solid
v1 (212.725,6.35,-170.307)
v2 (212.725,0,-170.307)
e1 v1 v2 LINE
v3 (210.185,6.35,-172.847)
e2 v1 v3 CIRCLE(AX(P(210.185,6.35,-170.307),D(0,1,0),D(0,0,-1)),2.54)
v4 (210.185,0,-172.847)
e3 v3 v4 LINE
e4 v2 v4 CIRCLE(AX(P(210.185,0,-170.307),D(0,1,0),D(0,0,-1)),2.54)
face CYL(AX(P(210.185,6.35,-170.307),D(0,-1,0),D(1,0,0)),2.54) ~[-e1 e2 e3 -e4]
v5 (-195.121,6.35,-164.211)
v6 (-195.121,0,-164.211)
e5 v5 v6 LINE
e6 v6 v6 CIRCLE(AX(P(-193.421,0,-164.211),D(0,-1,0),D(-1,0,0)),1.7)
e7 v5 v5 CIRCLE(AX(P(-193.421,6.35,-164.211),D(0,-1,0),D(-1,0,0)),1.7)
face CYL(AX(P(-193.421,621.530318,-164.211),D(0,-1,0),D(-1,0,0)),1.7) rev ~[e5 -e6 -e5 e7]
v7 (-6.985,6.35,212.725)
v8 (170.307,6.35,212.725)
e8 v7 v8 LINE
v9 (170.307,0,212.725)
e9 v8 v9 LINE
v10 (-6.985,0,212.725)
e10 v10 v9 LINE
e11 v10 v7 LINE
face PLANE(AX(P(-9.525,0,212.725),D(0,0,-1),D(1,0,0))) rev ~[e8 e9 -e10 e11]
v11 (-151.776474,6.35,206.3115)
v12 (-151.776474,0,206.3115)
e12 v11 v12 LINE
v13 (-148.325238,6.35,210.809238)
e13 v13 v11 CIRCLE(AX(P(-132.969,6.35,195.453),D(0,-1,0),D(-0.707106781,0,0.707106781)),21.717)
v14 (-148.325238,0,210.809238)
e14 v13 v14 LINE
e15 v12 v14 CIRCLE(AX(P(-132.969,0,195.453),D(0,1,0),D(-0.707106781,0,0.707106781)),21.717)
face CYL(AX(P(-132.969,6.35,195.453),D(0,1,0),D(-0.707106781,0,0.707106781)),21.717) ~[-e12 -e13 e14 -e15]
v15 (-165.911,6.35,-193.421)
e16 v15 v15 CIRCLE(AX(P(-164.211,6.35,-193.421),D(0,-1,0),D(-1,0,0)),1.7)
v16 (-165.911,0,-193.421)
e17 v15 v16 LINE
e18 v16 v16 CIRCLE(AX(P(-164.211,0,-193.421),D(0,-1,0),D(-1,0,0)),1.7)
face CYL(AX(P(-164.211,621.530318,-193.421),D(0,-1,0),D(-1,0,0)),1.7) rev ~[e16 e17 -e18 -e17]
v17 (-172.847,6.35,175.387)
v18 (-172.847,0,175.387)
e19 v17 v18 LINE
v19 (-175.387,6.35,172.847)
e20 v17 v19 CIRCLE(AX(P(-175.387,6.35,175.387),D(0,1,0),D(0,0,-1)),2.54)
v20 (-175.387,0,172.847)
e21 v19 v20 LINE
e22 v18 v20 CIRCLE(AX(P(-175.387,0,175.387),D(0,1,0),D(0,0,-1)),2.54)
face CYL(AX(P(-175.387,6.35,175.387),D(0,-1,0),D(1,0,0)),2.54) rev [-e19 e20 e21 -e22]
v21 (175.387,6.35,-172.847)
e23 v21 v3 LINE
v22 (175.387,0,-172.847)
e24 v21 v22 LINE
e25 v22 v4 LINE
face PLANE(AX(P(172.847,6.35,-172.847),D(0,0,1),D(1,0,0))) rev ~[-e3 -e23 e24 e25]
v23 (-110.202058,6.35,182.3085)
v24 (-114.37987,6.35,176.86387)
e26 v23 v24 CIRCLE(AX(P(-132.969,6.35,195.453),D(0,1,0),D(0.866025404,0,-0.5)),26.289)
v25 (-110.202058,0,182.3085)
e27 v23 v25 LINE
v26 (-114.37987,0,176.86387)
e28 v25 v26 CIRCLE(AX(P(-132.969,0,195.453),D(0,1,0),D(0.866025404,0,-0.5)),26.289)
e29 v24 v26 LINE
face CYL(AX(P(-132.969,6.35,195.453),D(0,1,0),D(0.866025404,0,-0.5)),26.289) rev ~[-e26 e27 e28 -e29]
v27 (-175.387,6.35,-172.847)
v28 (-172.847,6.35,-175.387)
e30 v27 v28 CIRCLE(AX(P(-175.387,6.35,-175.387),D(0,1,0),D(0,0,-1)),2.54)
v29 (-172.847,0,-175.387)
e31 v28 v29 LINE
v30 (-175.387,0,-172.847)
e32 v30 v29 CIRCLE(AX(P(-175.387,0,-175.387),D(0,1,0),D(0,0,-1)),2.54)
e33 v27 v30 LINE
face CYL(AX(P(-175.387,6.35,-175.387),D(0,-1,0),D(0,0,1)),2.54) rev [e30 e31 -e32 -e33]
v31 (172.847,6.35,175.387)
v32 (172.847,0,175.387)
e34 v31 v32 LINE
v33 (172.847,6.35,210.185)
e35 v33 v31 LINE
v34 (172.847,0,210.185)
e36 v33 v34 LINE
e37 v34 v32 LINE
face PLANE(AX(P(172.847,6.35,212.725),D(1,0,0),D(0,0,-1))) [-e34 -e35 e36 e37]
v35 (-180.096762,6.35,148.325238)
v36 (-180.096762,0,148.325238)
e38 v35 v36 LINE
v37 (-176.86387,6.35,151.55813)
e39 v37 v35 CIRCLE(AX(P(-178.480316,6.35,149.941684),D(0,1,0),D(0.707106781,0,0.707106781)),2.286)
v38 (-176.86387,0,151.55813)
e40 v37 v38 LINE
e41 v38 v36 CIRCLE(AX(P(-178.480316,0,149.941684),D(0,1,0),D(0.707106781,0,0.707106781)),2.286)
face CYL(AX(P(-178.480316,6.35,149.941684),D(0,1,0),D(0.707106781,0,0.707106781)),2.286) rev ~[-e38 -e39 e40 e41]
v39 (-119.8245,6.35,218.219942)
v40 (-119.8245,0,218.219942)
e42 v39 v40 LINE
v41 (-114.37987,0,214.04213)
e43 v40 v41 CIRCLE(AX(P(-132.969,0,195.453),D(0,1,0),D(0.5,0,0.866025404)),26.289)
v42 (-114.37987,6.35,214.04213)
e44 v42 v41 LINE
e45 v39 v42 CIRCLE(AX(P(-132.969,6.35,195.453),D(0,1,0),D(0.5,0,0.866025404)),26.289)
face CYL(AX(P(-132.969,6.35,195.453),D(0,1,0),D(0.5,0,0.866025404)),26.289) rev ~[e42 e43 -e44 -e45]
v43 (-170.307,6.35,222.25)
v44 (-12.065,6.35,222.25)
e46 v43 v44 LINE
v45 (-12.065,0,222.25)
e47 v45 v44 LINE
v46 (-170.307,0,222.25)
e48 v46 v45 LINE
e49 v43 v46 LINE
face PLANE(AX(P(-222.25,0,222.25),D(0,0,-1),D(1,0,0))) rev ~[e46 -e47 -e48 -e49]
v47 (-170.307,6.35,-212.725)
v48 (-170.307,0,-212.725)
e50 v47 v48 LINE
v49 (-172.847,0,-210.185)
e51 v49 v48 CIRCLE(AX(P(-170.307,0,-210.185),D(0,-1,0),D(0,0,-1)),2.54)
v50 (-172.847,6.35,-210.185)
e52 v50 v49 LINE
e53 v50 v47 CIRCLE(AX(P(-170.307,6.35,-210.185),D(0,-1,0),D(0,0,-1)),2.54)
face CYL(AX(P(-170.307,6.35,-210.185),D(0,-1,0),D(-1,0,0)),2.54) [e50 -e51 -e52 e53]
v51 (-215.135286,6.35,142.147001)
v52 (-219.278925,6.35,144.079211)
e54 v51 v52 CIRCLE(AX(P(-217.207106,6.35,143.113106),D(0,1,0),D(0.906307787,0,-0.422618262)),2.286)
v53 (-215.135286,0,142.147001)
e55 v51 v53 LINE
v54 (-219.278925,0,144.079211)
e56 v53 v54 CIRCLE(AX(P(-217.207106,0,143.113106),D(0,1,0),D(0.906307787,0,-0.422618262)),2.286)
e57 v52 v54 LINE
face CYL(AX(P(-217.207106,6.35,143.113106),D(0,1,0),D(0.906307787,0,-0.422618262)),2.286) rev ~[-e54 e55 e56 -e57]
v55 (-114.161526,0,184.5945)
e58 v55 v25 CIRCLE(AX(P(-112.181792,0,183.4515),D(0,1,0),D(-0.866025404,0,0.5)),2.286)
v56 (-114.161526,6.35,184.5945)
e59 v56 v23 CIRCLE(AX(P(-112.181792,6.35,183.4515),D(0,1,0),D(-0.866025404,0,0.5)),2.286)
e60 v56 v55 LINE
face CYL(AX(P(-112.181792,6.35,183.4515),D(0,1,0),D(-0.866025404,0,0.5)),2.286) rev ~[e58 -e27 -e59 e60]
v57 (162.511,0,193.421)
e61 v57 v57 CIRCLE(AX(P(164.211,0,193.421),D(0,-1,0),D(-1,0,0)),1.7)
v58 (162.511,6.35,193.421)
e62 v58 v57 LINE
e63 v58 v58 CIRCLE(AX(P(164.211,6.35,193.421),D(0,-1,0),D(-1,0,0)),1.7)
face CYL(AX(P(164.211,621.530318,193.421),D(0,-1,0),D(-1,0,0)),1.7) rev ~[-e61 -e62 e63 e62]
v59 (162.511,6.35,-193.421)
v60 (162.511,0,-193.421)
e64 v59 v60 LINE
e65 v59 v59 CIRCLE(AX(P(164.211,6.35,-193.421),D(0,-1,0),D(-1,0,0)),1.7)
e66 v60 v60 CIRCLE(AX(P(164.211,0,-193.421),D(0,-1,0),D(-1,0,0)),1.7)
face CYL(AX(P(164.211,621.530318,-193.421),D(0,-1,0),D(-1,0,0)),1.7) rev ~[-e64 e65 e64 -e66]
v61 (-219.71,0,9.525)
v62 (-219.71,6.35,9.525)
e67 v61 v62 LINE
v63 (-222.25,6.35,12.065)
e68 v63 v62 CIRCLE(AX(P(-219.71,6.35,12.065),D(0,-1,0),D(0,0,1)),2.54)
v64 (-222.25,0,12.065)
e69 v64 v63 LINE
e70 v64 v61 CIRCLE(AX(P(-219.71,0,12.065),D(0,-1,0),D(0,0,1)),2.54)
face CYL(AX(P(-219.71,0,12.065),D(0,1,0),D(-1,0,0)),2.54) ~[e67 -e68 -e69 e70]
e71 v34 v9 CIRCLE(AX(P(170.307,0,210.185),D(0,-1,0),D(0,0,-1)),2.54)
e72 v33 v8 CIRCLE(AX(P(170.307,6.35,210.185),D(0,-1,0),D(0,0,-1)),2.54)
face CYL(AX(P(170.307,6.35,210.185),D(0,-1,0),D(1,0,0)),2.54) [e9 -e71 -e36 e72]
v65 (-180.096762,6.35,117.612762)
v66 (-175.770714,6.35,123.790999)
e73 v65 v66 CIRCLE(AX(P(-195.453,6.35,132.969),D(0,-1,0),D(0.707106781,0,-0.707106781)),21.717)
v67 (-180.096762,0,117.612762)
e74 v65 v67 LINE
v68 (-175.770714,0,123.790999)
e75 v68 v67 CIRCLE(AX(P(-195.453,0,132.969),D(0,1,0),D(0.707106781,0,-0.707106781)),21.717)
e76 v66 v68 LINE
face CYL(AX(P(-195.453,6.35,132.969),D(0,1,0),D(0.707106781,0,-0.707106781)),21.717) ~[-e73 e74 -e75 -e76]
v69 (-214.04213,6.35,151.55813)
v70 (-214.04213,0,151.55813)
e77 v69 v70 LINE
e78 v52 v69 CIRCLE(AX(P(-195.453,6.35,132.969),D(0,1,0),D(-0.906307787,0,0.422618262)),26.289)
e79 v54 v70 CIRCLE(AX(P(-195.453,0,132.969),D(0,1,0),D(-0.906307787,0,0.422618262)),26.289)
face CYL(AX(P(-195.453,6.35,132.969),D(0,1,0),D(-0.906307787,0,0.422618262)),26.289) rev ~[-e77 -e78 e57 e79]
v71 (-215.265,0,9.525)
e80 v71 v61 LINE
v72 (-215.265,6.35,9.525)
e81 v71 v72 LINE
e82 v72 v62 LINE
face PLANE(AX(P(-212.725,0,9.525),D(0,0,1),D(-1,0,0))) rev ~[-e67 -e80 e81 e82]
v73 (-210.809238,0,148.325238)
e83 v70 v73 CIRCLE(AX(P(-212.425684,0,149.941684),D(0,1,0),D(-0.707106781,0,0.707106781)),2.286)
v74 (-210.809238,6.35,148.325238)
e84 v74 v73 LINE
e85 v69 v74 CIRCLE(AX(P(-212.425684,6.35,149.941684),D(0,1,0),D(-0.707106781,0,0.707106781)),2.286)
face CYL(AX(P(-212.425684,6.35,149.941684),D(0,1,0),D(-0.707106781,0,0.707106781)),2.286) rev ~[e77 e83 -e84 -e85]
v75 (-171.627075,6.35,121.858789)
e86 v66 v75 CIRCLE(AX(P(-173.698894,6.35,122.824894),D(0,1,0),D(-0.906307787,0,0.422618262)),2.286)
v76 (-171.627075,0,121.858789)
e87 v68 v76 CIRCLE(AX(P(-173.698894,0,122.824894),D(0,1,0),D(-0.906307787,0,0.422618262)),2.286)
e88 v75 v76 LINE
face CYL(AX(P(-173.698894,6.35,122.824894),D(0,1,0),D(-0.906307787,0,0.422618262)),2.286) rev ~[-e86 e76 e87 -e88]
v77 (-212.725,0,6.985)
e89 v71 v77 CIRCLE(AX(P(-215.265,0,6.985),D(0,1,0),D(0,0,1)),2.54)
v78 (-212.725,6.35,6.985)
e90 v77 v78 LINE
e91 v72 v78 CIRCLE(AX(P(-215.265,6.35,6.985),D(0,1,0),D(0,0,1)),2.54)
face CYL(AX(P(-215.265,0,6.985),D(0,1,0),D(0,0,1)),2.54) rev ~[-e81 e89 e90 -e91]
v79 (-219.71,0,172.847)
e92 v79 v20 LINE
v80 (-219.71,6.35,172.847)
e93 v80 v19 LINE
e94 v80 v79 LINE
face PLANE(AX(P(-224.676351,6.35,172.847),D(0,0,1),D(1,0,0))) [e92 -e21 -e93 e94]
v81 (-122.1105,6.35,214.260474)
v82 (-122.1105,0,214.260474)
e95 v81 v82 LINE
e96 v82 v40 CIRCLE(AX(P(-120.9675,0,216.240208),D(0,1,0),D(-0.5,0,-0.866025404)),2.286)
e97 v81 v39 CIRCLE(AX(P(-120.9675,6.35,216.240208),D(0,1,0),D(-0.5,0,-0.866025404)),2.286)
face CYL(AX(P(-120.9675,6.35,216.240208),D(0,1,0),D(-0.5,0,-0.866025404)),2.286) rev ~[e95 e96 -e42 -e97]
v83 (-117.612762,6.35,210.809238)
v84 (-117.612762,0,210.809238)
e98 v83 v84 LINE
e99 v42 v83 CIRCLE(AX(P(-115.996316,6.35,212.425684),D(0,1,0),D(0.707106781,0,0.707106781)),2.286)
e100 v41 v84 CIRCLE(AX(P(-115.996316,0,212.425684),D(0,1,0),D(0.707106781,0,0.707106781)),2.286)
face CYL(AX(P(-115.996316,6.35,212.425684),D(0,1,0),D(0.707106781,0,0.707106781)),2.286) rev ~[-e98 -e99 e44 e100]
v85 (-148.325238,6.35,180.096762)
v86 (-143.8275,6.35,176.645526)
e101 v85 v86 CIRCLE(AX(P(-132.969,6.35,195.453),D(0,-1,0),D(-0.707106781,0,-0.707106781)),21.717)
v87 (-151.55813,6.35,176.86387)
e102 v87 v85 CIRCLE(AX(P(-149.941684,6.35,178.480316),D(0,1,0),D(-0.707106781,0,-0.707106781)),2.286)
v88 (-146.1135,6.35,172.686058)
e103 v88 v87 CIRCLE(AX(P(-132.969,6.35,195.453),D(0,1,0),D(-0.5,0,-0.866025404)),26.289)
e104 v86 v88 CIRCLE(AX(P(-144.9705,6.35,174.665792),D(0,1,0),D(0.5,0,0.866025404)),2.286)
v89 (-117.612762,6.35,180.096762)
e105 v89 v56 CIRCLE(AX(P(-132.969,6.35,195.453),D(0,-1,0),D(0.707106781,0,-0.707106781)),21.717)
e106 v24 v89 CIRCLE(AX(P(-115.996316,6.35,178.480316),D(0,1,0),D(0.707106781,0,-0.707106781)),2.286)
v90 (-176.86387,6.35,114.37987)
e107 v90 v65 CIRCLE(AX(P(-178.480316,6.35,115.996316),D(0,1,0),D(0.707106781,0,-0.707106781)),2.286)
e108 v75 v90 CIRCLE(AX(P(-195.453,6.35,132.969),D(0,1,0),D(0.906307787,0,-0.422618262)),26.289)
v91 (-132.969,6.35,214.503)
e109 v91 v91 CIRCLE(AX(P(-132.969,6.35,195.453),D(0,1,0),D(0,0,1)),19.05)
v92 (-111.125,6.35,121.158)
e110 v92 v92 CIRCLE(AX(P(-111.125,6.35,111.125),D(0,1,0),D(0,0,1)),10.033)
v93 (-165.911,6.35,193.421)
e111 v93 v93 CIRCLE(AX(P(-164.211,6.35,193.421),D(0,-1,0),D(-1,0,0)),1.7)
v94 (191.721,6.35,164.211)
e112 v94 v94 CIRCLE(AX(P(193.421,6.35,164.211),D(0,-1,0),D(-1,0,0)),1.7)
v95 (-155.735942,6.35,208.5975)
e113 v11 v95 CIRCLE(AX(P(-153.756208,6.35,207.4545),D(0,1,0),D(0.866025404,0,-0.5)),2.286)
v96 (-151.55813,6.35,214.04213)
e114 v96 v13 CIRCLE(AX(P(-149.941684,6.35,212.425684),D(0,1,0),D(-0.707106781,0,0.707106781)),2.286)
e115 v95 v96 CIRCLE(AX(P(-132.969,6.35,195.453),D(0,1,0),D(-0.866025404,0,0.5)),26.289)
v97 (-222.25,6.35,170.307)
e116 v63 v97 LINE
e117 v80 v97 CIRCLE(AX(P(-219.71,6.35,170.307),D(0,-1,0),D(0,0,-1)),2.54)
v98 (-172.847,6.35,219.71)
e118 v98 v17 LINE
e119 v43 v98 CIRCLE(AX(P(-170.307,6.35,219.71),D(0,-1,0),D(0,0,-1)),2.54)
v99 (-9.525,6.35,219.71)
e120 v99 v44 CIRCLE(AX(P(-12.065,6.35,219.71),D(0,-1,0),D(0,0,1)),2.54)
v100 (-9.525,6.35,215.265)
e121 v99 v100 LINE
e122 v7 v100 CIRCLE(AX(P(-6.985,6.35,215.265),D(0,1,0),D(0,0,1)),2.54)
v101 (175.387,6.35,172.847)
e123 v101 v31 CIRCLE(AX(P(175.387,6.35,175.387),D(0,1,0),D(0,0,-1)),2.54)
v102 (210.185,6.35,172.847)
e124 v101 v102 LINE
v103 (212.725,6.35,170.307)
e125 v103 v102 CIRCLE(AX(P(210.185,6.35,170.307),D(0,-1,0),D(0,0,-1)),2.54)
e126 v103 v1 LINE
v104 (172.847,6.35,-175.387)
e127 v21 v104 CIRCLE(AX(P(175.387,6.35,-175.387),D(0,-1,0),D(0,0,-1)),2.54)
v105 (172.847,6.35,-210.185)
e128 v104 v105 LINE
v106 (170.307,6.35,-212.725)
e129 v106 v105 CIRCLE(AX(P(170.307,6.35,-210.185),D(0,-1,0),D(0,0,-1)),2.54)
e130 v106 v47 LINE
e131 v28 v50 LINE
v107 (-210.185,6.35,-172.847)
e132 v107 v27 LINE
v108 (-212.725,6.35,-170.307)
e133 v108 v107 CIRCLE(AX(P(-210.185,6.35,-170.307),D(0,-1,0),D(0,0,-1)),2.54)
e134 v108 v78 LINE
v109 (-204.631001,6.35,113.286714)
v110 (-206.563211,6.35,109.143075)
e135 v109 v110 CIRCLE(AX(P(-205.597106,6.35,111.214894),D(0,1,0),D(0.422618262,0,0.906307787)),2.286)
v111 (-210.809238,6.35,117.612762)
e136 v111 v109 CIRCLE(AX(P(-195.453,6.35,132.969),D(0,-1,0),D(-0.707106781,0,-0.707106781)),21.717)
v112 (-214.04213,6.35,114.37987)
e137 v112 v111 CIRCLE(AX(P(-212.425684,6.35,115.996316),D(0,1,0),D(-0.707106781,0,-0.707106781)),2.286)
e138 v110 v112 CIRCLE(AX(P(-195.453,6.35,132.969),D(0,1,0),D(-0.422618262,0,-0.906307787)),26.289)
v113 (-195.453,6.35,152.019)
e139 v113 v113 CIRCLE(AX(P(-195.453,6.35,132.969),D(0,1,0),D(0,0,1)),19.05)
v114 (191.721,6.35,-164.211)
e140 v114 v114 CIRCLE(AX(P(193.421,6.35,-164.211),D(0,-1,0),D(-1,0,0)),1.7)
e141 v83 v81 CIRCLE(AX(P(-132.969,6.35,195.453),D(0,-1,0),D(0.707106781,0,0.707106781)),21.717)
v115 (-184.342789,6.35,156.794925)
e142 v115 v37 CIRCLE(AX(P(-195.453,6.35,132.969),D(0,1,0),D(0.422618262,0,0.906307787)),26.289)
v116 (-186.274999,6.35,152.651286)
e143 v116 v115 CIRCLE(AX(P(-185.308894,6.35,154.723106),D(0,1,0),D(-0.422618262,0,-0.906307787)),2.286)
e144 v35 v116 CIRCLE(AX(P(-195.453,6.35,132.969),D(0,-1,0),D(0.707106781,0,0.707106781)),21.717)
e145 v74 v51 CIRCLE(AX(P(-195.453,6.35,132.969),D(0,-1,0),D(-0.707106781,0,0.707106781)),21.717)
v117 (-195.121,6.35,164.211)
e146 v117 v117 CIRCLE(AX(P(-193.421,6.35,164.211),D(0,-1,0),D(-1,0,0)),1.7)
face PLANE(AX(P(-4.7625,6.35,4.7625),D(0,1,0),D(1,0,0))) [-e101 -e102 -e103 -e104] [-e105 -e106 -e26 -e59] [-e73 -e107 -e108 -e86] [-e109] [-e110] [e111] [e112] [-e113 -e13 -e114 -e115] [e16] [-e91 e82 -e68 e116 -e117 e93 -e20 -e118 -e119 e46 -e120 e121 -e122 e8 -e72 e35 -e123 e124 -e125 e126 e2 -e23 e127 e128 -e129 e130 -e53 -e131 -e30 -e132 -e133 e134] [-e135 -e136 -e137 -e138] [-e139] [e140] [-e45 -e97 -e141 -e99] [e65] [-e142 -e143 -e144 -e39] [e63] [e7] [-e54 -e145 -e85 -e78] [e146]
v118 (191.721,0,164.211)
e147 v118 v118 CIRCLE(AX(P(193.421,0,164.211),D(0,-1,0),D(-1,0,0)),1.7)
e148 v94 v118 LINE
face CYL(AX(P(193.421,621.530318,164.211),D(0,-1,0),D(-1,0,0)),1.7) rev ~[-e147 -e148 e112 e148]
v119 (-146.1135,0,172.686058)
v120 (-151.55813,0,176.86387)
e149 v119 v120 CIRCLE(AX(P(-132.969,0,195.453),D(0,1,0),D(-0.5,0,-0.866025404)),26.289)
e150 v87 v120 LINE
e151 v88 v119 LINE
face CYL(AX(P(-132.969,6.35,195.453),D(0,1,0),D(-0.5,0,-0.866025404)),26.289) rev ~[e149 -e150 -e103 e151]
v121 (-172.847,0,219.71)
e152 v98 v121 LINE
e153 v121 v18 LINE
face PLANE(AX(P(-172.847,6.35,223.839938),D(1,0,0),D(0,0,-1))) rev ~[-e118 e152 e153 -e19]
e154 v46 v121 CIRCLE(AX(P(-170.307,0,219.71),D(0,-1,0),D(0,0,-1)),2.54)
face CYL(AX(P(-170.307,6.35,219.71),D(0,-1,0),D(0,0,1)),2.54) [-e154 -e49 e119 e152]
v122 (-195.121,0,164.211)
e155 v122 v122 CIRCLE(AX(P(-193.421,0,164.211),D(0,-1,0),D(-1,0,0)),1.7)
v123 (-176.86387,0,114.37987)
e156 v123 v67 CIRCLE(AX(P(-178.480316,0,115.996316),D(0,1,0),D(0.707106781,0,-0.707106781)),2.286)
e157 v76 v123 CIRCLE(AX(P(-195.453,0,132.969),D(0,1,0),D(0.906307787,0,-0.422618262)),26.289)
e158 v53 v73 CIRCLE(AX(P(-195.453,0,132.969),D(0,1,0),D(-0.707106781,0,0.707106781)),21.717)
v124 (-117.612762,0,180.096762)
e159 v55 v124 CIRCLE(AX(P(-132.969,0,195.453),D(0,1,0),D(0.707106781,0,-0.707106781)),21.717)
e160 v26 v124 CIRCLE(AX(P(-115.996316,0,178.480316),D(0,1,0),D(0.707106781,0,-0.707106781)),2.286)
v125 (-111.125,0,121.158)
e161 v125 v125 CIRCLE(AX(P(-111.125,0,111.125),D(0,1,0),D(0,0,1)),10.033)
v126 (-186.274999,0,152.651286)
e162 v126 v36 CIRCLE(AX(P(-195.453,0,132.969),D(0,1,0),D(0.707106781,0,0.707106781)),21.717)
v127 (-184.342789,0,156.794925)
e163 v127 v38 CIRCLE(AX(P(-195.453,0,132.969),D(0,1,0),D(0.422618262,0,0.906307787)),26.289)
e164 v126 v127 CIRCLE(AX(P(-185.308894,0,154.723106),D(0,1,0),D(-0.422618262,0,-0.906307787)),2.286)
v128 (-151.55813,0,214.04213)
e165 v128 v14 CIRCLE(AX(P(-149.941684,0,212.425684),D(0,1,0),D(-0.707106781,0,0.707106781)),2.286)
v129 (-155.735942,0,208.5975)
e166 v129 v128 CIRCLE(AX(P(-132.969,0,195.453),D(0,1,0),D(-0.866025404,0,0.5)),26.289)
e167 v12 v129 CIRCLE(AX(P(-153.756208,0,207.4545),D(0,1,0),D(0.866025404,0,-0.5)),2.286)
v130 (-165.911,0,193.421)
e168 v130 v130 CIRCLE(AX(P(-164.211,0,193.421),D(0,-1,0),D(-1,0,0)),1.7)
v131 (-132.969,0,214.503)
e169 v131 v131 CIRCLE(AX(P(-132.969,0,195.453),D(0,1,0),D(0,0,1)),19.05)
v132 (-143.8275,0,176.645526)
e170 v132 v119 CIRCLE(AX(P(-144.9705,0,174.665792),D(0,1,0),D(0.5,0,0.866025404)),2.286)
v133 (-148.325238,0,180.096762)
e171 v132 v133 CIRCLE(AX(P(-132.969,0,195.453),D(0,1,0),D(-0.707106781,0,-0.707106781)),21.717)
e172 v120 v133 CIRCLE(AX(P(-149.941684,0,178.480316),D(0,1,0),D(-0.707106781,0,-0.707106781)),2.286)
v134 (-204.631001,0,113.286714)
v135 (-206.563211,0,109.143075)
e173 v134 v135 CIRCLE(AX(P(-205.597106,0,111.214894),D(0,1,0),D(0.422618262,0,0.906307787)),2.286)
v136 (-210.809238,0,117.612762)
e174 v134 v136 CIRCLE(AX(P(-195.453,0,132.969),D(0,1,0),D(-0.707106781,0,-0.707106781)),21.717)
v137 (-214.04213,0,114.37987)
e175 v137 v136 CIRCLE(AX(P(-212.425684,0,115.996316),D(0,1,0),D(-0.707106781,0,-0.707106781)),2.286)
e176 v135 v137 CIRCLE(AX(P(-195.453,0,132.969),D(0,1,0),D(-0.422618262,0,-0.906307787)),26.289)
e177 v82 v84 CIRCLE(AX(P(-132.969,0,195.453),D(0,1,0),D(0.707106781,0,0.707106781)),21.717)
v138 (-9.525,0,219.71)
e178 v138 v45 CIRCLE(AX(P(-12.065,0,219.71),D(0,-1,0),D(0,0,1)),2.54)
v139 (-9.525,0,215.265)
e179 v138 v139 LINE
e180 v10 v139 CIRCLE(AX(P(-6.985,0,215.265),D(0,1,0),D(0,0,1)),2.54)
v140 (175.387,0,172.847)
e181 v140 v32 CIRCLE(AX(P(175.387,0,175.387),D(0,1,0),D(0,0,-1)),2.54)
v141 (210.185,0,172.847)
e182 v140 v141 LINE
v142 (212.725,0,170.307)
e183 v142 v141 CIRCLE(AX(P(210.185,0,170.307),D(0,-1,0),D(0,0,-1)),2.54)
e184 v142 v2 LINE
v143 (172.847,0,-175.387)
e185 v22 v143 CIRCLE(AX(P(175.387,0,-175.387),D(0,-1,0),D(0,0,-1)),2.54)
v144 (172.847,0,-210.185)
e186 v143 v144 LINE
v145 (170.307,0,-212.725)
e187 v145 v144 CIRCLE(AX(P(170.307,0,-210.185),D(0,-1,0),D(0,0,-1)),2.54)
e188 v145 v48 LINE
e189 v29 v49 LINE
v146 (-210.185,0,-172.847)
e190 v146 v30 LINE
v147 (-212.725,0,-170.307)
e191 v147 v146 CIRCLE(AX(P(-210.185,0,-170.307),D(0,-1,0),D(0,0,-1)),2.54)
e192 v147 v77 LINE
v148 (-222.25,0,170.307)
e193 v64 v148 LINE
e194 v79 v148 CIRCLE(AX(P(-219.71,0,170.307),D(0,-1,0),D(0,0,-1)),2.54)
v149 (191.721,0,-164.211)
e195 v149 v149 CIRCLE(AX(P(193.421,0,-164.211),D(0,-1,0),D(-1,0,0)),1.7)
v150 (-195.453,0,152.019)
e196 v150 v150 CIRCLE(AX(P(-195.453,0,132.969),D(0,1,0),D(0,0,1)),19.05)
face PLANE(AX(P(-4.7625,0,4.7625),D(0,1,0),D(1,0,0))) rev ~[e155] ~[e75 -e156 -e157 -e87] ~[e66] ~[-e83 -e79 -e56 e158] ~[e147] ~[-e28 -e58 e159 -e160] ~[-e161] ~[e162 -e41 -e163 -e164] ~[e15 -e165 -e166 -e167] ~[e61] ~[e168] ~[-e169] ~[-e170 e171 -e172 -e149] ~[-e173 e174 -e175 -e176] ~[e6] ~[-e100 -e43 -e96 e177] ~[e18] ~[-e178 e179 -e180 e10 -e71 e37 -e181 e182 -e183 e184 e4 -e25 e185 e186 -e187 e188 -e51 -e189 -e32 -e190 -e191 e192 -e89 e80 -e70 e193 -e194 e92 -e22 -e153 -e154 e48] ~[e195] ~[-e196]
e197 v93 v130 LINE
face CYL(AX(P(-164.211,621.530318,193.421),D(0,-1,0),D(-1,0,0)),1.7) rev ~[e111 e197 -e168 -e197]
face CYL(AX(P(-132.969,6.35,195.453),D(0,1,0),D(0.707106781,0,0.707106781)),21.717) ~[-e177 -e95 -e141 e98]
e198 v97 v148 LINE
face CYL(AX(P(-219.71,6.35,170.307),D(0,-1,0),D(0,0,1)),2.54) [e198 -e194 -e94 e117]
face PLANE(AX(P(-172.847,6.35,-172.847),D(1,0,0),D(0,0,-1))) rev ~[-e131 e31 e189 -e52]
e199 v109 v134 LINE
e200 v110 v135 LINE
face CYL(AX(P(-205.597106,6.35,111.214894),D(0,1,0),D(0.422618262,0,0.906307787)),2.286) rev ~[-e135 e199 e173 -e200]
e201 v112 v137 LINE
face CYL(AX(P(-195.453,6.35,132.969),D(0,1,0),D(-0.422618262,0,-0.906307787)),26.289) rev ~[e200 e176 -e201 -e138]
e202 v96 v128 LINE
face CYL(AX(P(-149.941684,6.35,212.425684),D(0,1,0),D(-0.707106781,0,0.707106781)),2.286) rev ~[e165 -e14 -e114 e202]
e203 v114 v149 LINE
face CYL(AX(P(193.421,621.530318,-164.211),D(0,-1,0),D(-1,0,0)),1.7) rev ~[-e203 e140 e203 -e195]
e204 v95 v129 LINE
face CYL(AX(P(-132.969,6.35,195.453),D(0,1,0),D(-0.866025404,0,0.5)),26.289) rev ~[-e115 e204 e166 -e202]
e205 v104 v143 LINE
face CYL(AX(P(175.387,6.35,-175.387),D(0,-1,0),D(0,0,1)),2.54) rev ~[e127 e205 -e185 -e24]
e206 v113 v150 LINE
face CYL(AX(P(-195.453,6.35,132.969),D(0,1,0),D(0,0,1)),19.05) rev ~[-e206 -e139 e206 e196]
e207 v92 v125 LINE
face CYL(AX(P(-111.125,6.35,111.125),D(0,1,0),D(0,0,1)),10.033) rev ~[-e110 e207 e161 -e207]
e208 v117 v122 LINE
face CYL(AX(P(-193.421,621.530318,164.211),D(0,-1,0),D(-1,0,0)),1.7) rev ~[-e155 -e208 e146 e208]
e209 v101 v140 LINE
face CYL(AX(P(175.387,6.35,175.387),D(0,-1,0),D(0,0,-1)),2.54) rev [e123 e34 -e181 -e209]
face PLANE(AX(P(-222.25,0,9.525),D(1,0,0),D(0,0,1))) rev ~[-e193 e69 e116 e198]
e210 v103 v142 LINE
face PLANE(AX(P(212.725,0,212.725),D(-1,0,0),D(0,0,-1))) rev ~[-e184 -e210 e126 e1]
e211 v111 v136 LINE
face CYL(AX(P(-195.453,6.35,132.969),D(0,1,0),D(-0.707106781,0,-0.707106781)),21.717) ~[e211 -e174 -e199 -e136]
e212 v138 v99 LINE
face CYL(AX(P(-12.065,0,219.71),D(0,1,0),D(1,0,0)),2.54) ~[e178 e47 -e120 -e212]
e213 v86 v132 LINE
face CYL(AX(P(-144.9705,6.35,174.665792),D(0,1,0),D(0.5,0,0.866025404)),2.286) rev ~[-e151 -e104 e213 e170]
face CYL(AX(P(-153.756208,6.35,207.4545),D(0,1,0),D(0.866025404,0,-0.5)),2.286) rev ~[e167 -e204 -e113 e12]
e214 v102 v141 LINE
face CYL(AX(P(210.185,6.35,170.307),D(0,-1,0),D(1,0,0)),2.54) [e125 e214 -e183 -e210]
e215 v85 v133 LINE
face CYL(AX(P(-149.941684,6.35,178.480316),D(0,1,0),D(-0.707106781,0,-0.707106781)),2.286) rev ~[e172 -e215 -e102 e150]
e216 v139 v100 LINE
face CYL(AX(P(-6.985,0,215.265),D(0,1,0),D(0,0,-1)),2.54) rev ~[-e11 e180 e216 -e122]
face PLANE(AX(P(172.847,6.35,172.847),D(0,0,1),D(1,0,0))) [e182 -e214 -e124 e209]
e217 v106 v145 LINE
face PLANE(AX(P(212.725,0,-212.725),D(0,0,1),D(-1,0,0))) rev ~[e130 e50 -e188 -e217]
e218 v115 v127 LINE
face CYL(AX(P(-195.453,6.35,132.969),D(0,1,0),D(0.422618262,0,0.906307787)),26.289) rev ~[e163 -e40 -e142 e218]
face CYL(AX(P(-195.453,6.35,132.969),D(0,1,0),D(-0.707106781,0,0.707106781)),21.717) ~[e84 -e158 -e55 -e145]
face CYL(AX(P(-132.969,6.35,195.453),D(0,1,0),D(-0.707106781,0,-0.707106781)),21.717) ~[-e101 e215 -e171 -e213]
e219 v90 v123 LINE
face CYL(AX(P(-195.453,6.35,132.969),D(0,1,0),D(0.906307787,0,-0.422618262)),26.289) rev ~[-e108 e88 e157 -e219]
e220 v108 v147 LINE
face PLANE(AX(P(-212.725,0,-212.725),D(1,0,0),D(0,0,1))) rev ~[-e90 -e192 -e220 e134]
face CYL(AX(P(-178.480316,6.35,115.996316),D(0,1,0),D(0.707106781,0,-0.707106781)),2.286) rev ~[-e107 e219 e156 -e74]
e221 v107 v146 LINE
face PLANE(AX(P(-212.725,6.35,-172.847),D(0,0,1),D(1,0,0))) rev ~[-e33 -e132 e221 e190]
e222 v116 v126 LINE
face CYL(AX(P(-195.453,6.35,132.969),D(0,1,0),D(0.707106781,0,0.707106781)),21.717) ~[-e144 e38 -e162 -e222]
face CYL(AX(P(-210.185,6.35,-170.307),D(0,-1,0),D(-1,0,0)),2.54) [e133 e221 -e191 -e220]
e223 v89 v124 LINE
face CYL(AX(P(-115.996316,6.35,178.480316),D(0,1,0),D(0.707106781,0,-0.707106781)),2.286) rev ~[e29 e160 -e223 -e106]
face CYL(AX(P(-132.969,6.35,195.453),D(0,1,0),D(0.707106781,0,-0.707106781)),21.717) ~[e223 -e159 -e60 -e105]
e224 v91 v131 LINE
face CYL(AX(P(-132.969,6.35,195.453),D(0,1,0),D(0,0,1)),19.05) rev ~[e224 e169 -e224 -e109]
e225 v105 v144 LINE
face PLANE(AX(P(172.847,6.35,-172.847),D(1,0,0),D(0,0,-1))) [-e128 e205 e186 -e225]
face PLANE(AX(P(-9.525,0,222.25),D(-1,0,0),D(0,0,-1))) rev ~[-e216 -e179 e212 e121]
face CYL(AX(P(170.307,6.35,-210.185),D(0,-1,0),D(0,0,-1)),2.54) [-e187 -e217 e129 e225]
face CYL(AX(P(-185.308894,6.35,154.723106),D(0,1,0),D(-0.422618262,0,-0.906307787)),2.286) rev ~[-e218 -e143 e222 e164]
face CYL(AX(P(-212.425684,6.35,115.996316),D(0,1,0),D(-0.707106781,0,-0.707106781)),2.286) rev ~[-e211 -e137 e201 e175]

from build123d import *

# Parameters (mm, degrees)
BOSS_EXTRUDE1_DEPTH  = 6.35
SKETCH2_R            = 10.033
CUT_EXTRUDE1_DEPTH   = 9.525
SKETCH3_W            = 39.878
SKETCH3_H            = 39.878
SKETCH3_W_2          = 51.829351428
SKETCH3_H_2          = 50.992938467
CUT_EXTRUDE2_DEPTH   = 315.37310238
FILLET1_R            = 2.54
M3_CLEARANCE_HOLE1_D = 3.4
SKETCH6_R            = 19.05
CUT_EXTRUDE3_DEPTH   = 315.37310238


with BuildPart() as part:
    # Sketch1 → Boss-Extrude1 (new body)
    with BuildSketch(Plane(origin=(0, 0, 0), x_dir=(1, 0, 0), z_dir=(0, 1, 0))):
        Polygon((212.725, -212.725), (212.725, 212.725), (-212.725, 212.725), (-212.725, -9.525), (-222.25, -9.525), (-222.25, -222.25), (-9.525, -222.25), (-9.525, -212.725), align=None)
    extrude(amount=BOSS_EXTRUDE1_DEPTH)

    # Sketch2 → Cut-Extrude1 (cut)
    with BuildSketch(Plane(origin=(0, 6.35, 0), x_dir=(1, 0, 0), z_dir=(0, 1, 0))):
        with Locations(Location((-111.125, -111.125, 0), (0, 0, 270))):
            Circle(SKETCH2_R)
    extrude(amount=-CUT_EXTRUDE1_DEPTH, mode=Mode.SUBTRACT)

    # Sketch3 → Cut-Extrude2 (cut, through all)
    with BuildSketch(Plane(origin=(0, 6.35, 0), x_dir=(1, 0, 0), z_dir=(0, 1, 0))):
        with Locations((-192.786, 192.786)):
            Rectangle(SKETCH3_W, SKETCH3_H)
        with Locations((192.786, 192.786)):
            Rectangle(SKETCH3_W, SKETCH3_H)
        with Locations((192.786, -192.786)):
            Rectangle(SKETCH3_W, SKETCH3_H)
        with Locations((-198.761675714, -198.343469234)):
            Rectangle(SKETCH3_W_2, SKETCH3_H_2)
    extrude(amount=-CUT_EXTRUDE2_DEPTH, mode=Mode.SUBTRACT)

    # Fillet1
    fillet1_edges = [part.edges().sort_by_distance(p)[0] for p in [
        (-9.525, 3.175, 212.725),
        (-9.525, 3.175, 222.25),
        (-222.25, 3.175, 9.525),
        (-212.725, 3.175, 9.525),
        (-212.725, 3.175, -172.847),
        (-172.847, 3.175, -212.725),
        (-172.847, 3.175, -172.847),
        (212.725, 3.175, -172.847),
        (172.847, 3.175, -172.847),
        (172.847, 3.175, -212.725),
        (212.725, 3.175, 172.847),
        (172.847, 3.175, 212.725),
        (172.847, 3.175, 172.847),
        (-172.847, 3.175, 222.25),
        (-172.847, 3.175, 172.847),
        (-222.25, 3.175, 172.847),
    ]]
    fillet(fillet1_edges, radius=FILLET1_R)

    # M3 Clearance Hole1 (through all)
    with Locations(Plane(origin=(0, 6.35, 0), x_dir=(1, 0, 0), z_dir=(0, 1, 0))):
        with Locations((-164.211, -193.421), (-193.421, -164.211), (-193.421, 164.211), (-164.211, 193.421), (164.211, 193.421), (193.421, 164.211), (193.421, -164.211), (164.211, -193.421)):
            Hole(M3_CLEARANCE_HOLE1_D / 2)

    # Sketch6 → Cut-Extrude3 (cut, through all)
    with BuildSketch(Plane(origin=(0, 6.35, 0), x_dir=(1, 0, 0), z_dir=(0, 1, 0))):
        with Locations(Location((-195.453, -132.969, 0), (0, 0, 270))):
            Circle(SKETCH6_R)
        with Locations(Location((-132.969, -195.453, 0), (0, 0, 270))):
            Circle(SKETCH6_R)
        with BuildLine():
            ThreePointArc((-184.342788517, -156.794925413), (-180.374249065, -154.503688092), (-176.863869829, -151.558130171))
            ThreePointArc((-176.863869829, -151.558130171), (-176.863869829, -148.325237967), (-180.096762033, -148.325237967))
            ThreePointArc((-180.096762033, -148.325237967), (-182.996640532, -150.758524946), (-186.27499921, -152.651286211))
            ThreePointArc((-186.27499921, -152.651286211), (-187.380713465, -155.689211159), (-184.342788517, -156.794925413))
        make_face()
        with BuildLine():
            ThreePointArc((-110.20205816, -182.3085), (-112.112534037, -179.449270793), (-114.379869829, -176.863869829))
            ThreePointArc((-114.379869829, -176.863869829), (-117.612762033, -176.863869829), (-117.612762033, -180.096762033))
            ThreePointArc((-117.612762033, -180.096762033), (-115.739745509, -182.232528046), (-114.161526306, -184.5945))
            ThreePointArc((-114.161526306, -184.5945), (-111.038792233, -185.431234073), (-110.20205816, -182.3085))
        make_face()
        with BuildLine():
            ThreePointArc((-219.278925413, -144.079211483), (-216.987688092, -148.047750935), (-214.042130171, -151.558130171))
            ThreePointArc((-214.042130171, -151.558130171), (-210.809237967, -151.558130171), (-210.809237967, -148.325237967))
            ThreePointArc((-210.809237967, -148.325237967), (-213.242524946, -145.425359468), (-215.135286211, -142.14700079))
            ThreePointArc((-215.135286211, -142.14700079), (-218.173211159, -141.041286535), (-219.278925413, -144.079211483))
        make_face()
        with BuildLine():
            ThreePointArc((-206.563211483, -109.143074587), (-210.531750935, -111.434311908), (-214.042130171, -114.379869829))
            ThreePointArc((-214.042130171, -114.379869829), (-214.042130171, -117.612762033), (-210.809237967, -117.612762033))
            ThreePointArc((-210.809237967, -117.612762033), (-207.909359468, -115.179475054), (-204.63100079, -113.286713789))
            ThreePointArc((-204.63100079, -113.286713789), (-203.525286535, -110.248788841), (-206.563211483, -109.143074587))
        make_face()
        with BuildLine():
            ThreePointArc((-171.627074587, -121.858788517), (-173.918311908, -117.890249065), (-176.863869829, -114.379869829))
            ThreePointArc((-176.863869829, -114.379869829), (-180.096762033, -114.379869829), (-180.096762033, -117.612762033))
            ThreePointArc((-180.096762033, -117.612762033), (-177.663475054, -120.512640532), (-175.770713789, -123.79099921))
            ThreePointArc((-175.770713789, -123.79099921), (-172.732788841, -124.896713465), (-171.627074587, -121.858788517))
        make_face()
        with BuildLine():
            ThreePointArc((-119.8245, -218.21994184), (-116.965270793, -216.309465963), (-114.379869829, -214.042130171))
            ThreePointArc((-114.379869829, -214.042130171), (-114.379869829, -210.809237967), (-117.612762033, -210.809237967))
            ThreePointArc((-117.612762033, -210.809237967), (-119.748528046, -212.682254491), (-122.1105, -214.260473694))
            ThreePointArc((-122.1105, -214.260473694), (-122.947234073, -217.383207767), (-119.8245, -218.21994184))
        make_face()
        with BuildLine():
            ThreePointArc((-155.73594184, -208.5975), (-153.825465963, -211.456729207), (-151.558130171, -214.042130171))
            ThreePointArc((-151.558130171, -214.042130171), (-148.325237967, -214.042130171), (-148.325237967, -210.809237967))
            ThreePointArc((-148.325237967, -210.809237967), (-150.198254491, -208.673471954), (-151.776473694, -206.3115))
            ThreePointArc((-151.776473694, -206.3115), (-154.899207767, -205.474765927), (-155.73594184, -208.5975))
        make_face()
        with BuildLine():
            ThreePointArc((-146.1135, -172.68605816), (-148.972729207, -174.596534037), (-151.558130171, -176.863869829))
            ThreePointArc((-151.558130171, -176.863869829), (-151.558130171, -180.096762033), (-148.325237967, -180.096762033))
            ThreePointArc((-148.325237967, -180.096762033), (-146.189471954, -178.223745509), (-143.8275, -176.645526306))
            ThreePointArc((-143.8275, -176.645526306), (-142.990765927, -173.522792233), (-146.1135, -172.68605816))
        make_face()
    extrude(amount=-CUT_EXTRUDE3_DEPTH, mode=Mode.SUBTRACT)


solid = part.part
